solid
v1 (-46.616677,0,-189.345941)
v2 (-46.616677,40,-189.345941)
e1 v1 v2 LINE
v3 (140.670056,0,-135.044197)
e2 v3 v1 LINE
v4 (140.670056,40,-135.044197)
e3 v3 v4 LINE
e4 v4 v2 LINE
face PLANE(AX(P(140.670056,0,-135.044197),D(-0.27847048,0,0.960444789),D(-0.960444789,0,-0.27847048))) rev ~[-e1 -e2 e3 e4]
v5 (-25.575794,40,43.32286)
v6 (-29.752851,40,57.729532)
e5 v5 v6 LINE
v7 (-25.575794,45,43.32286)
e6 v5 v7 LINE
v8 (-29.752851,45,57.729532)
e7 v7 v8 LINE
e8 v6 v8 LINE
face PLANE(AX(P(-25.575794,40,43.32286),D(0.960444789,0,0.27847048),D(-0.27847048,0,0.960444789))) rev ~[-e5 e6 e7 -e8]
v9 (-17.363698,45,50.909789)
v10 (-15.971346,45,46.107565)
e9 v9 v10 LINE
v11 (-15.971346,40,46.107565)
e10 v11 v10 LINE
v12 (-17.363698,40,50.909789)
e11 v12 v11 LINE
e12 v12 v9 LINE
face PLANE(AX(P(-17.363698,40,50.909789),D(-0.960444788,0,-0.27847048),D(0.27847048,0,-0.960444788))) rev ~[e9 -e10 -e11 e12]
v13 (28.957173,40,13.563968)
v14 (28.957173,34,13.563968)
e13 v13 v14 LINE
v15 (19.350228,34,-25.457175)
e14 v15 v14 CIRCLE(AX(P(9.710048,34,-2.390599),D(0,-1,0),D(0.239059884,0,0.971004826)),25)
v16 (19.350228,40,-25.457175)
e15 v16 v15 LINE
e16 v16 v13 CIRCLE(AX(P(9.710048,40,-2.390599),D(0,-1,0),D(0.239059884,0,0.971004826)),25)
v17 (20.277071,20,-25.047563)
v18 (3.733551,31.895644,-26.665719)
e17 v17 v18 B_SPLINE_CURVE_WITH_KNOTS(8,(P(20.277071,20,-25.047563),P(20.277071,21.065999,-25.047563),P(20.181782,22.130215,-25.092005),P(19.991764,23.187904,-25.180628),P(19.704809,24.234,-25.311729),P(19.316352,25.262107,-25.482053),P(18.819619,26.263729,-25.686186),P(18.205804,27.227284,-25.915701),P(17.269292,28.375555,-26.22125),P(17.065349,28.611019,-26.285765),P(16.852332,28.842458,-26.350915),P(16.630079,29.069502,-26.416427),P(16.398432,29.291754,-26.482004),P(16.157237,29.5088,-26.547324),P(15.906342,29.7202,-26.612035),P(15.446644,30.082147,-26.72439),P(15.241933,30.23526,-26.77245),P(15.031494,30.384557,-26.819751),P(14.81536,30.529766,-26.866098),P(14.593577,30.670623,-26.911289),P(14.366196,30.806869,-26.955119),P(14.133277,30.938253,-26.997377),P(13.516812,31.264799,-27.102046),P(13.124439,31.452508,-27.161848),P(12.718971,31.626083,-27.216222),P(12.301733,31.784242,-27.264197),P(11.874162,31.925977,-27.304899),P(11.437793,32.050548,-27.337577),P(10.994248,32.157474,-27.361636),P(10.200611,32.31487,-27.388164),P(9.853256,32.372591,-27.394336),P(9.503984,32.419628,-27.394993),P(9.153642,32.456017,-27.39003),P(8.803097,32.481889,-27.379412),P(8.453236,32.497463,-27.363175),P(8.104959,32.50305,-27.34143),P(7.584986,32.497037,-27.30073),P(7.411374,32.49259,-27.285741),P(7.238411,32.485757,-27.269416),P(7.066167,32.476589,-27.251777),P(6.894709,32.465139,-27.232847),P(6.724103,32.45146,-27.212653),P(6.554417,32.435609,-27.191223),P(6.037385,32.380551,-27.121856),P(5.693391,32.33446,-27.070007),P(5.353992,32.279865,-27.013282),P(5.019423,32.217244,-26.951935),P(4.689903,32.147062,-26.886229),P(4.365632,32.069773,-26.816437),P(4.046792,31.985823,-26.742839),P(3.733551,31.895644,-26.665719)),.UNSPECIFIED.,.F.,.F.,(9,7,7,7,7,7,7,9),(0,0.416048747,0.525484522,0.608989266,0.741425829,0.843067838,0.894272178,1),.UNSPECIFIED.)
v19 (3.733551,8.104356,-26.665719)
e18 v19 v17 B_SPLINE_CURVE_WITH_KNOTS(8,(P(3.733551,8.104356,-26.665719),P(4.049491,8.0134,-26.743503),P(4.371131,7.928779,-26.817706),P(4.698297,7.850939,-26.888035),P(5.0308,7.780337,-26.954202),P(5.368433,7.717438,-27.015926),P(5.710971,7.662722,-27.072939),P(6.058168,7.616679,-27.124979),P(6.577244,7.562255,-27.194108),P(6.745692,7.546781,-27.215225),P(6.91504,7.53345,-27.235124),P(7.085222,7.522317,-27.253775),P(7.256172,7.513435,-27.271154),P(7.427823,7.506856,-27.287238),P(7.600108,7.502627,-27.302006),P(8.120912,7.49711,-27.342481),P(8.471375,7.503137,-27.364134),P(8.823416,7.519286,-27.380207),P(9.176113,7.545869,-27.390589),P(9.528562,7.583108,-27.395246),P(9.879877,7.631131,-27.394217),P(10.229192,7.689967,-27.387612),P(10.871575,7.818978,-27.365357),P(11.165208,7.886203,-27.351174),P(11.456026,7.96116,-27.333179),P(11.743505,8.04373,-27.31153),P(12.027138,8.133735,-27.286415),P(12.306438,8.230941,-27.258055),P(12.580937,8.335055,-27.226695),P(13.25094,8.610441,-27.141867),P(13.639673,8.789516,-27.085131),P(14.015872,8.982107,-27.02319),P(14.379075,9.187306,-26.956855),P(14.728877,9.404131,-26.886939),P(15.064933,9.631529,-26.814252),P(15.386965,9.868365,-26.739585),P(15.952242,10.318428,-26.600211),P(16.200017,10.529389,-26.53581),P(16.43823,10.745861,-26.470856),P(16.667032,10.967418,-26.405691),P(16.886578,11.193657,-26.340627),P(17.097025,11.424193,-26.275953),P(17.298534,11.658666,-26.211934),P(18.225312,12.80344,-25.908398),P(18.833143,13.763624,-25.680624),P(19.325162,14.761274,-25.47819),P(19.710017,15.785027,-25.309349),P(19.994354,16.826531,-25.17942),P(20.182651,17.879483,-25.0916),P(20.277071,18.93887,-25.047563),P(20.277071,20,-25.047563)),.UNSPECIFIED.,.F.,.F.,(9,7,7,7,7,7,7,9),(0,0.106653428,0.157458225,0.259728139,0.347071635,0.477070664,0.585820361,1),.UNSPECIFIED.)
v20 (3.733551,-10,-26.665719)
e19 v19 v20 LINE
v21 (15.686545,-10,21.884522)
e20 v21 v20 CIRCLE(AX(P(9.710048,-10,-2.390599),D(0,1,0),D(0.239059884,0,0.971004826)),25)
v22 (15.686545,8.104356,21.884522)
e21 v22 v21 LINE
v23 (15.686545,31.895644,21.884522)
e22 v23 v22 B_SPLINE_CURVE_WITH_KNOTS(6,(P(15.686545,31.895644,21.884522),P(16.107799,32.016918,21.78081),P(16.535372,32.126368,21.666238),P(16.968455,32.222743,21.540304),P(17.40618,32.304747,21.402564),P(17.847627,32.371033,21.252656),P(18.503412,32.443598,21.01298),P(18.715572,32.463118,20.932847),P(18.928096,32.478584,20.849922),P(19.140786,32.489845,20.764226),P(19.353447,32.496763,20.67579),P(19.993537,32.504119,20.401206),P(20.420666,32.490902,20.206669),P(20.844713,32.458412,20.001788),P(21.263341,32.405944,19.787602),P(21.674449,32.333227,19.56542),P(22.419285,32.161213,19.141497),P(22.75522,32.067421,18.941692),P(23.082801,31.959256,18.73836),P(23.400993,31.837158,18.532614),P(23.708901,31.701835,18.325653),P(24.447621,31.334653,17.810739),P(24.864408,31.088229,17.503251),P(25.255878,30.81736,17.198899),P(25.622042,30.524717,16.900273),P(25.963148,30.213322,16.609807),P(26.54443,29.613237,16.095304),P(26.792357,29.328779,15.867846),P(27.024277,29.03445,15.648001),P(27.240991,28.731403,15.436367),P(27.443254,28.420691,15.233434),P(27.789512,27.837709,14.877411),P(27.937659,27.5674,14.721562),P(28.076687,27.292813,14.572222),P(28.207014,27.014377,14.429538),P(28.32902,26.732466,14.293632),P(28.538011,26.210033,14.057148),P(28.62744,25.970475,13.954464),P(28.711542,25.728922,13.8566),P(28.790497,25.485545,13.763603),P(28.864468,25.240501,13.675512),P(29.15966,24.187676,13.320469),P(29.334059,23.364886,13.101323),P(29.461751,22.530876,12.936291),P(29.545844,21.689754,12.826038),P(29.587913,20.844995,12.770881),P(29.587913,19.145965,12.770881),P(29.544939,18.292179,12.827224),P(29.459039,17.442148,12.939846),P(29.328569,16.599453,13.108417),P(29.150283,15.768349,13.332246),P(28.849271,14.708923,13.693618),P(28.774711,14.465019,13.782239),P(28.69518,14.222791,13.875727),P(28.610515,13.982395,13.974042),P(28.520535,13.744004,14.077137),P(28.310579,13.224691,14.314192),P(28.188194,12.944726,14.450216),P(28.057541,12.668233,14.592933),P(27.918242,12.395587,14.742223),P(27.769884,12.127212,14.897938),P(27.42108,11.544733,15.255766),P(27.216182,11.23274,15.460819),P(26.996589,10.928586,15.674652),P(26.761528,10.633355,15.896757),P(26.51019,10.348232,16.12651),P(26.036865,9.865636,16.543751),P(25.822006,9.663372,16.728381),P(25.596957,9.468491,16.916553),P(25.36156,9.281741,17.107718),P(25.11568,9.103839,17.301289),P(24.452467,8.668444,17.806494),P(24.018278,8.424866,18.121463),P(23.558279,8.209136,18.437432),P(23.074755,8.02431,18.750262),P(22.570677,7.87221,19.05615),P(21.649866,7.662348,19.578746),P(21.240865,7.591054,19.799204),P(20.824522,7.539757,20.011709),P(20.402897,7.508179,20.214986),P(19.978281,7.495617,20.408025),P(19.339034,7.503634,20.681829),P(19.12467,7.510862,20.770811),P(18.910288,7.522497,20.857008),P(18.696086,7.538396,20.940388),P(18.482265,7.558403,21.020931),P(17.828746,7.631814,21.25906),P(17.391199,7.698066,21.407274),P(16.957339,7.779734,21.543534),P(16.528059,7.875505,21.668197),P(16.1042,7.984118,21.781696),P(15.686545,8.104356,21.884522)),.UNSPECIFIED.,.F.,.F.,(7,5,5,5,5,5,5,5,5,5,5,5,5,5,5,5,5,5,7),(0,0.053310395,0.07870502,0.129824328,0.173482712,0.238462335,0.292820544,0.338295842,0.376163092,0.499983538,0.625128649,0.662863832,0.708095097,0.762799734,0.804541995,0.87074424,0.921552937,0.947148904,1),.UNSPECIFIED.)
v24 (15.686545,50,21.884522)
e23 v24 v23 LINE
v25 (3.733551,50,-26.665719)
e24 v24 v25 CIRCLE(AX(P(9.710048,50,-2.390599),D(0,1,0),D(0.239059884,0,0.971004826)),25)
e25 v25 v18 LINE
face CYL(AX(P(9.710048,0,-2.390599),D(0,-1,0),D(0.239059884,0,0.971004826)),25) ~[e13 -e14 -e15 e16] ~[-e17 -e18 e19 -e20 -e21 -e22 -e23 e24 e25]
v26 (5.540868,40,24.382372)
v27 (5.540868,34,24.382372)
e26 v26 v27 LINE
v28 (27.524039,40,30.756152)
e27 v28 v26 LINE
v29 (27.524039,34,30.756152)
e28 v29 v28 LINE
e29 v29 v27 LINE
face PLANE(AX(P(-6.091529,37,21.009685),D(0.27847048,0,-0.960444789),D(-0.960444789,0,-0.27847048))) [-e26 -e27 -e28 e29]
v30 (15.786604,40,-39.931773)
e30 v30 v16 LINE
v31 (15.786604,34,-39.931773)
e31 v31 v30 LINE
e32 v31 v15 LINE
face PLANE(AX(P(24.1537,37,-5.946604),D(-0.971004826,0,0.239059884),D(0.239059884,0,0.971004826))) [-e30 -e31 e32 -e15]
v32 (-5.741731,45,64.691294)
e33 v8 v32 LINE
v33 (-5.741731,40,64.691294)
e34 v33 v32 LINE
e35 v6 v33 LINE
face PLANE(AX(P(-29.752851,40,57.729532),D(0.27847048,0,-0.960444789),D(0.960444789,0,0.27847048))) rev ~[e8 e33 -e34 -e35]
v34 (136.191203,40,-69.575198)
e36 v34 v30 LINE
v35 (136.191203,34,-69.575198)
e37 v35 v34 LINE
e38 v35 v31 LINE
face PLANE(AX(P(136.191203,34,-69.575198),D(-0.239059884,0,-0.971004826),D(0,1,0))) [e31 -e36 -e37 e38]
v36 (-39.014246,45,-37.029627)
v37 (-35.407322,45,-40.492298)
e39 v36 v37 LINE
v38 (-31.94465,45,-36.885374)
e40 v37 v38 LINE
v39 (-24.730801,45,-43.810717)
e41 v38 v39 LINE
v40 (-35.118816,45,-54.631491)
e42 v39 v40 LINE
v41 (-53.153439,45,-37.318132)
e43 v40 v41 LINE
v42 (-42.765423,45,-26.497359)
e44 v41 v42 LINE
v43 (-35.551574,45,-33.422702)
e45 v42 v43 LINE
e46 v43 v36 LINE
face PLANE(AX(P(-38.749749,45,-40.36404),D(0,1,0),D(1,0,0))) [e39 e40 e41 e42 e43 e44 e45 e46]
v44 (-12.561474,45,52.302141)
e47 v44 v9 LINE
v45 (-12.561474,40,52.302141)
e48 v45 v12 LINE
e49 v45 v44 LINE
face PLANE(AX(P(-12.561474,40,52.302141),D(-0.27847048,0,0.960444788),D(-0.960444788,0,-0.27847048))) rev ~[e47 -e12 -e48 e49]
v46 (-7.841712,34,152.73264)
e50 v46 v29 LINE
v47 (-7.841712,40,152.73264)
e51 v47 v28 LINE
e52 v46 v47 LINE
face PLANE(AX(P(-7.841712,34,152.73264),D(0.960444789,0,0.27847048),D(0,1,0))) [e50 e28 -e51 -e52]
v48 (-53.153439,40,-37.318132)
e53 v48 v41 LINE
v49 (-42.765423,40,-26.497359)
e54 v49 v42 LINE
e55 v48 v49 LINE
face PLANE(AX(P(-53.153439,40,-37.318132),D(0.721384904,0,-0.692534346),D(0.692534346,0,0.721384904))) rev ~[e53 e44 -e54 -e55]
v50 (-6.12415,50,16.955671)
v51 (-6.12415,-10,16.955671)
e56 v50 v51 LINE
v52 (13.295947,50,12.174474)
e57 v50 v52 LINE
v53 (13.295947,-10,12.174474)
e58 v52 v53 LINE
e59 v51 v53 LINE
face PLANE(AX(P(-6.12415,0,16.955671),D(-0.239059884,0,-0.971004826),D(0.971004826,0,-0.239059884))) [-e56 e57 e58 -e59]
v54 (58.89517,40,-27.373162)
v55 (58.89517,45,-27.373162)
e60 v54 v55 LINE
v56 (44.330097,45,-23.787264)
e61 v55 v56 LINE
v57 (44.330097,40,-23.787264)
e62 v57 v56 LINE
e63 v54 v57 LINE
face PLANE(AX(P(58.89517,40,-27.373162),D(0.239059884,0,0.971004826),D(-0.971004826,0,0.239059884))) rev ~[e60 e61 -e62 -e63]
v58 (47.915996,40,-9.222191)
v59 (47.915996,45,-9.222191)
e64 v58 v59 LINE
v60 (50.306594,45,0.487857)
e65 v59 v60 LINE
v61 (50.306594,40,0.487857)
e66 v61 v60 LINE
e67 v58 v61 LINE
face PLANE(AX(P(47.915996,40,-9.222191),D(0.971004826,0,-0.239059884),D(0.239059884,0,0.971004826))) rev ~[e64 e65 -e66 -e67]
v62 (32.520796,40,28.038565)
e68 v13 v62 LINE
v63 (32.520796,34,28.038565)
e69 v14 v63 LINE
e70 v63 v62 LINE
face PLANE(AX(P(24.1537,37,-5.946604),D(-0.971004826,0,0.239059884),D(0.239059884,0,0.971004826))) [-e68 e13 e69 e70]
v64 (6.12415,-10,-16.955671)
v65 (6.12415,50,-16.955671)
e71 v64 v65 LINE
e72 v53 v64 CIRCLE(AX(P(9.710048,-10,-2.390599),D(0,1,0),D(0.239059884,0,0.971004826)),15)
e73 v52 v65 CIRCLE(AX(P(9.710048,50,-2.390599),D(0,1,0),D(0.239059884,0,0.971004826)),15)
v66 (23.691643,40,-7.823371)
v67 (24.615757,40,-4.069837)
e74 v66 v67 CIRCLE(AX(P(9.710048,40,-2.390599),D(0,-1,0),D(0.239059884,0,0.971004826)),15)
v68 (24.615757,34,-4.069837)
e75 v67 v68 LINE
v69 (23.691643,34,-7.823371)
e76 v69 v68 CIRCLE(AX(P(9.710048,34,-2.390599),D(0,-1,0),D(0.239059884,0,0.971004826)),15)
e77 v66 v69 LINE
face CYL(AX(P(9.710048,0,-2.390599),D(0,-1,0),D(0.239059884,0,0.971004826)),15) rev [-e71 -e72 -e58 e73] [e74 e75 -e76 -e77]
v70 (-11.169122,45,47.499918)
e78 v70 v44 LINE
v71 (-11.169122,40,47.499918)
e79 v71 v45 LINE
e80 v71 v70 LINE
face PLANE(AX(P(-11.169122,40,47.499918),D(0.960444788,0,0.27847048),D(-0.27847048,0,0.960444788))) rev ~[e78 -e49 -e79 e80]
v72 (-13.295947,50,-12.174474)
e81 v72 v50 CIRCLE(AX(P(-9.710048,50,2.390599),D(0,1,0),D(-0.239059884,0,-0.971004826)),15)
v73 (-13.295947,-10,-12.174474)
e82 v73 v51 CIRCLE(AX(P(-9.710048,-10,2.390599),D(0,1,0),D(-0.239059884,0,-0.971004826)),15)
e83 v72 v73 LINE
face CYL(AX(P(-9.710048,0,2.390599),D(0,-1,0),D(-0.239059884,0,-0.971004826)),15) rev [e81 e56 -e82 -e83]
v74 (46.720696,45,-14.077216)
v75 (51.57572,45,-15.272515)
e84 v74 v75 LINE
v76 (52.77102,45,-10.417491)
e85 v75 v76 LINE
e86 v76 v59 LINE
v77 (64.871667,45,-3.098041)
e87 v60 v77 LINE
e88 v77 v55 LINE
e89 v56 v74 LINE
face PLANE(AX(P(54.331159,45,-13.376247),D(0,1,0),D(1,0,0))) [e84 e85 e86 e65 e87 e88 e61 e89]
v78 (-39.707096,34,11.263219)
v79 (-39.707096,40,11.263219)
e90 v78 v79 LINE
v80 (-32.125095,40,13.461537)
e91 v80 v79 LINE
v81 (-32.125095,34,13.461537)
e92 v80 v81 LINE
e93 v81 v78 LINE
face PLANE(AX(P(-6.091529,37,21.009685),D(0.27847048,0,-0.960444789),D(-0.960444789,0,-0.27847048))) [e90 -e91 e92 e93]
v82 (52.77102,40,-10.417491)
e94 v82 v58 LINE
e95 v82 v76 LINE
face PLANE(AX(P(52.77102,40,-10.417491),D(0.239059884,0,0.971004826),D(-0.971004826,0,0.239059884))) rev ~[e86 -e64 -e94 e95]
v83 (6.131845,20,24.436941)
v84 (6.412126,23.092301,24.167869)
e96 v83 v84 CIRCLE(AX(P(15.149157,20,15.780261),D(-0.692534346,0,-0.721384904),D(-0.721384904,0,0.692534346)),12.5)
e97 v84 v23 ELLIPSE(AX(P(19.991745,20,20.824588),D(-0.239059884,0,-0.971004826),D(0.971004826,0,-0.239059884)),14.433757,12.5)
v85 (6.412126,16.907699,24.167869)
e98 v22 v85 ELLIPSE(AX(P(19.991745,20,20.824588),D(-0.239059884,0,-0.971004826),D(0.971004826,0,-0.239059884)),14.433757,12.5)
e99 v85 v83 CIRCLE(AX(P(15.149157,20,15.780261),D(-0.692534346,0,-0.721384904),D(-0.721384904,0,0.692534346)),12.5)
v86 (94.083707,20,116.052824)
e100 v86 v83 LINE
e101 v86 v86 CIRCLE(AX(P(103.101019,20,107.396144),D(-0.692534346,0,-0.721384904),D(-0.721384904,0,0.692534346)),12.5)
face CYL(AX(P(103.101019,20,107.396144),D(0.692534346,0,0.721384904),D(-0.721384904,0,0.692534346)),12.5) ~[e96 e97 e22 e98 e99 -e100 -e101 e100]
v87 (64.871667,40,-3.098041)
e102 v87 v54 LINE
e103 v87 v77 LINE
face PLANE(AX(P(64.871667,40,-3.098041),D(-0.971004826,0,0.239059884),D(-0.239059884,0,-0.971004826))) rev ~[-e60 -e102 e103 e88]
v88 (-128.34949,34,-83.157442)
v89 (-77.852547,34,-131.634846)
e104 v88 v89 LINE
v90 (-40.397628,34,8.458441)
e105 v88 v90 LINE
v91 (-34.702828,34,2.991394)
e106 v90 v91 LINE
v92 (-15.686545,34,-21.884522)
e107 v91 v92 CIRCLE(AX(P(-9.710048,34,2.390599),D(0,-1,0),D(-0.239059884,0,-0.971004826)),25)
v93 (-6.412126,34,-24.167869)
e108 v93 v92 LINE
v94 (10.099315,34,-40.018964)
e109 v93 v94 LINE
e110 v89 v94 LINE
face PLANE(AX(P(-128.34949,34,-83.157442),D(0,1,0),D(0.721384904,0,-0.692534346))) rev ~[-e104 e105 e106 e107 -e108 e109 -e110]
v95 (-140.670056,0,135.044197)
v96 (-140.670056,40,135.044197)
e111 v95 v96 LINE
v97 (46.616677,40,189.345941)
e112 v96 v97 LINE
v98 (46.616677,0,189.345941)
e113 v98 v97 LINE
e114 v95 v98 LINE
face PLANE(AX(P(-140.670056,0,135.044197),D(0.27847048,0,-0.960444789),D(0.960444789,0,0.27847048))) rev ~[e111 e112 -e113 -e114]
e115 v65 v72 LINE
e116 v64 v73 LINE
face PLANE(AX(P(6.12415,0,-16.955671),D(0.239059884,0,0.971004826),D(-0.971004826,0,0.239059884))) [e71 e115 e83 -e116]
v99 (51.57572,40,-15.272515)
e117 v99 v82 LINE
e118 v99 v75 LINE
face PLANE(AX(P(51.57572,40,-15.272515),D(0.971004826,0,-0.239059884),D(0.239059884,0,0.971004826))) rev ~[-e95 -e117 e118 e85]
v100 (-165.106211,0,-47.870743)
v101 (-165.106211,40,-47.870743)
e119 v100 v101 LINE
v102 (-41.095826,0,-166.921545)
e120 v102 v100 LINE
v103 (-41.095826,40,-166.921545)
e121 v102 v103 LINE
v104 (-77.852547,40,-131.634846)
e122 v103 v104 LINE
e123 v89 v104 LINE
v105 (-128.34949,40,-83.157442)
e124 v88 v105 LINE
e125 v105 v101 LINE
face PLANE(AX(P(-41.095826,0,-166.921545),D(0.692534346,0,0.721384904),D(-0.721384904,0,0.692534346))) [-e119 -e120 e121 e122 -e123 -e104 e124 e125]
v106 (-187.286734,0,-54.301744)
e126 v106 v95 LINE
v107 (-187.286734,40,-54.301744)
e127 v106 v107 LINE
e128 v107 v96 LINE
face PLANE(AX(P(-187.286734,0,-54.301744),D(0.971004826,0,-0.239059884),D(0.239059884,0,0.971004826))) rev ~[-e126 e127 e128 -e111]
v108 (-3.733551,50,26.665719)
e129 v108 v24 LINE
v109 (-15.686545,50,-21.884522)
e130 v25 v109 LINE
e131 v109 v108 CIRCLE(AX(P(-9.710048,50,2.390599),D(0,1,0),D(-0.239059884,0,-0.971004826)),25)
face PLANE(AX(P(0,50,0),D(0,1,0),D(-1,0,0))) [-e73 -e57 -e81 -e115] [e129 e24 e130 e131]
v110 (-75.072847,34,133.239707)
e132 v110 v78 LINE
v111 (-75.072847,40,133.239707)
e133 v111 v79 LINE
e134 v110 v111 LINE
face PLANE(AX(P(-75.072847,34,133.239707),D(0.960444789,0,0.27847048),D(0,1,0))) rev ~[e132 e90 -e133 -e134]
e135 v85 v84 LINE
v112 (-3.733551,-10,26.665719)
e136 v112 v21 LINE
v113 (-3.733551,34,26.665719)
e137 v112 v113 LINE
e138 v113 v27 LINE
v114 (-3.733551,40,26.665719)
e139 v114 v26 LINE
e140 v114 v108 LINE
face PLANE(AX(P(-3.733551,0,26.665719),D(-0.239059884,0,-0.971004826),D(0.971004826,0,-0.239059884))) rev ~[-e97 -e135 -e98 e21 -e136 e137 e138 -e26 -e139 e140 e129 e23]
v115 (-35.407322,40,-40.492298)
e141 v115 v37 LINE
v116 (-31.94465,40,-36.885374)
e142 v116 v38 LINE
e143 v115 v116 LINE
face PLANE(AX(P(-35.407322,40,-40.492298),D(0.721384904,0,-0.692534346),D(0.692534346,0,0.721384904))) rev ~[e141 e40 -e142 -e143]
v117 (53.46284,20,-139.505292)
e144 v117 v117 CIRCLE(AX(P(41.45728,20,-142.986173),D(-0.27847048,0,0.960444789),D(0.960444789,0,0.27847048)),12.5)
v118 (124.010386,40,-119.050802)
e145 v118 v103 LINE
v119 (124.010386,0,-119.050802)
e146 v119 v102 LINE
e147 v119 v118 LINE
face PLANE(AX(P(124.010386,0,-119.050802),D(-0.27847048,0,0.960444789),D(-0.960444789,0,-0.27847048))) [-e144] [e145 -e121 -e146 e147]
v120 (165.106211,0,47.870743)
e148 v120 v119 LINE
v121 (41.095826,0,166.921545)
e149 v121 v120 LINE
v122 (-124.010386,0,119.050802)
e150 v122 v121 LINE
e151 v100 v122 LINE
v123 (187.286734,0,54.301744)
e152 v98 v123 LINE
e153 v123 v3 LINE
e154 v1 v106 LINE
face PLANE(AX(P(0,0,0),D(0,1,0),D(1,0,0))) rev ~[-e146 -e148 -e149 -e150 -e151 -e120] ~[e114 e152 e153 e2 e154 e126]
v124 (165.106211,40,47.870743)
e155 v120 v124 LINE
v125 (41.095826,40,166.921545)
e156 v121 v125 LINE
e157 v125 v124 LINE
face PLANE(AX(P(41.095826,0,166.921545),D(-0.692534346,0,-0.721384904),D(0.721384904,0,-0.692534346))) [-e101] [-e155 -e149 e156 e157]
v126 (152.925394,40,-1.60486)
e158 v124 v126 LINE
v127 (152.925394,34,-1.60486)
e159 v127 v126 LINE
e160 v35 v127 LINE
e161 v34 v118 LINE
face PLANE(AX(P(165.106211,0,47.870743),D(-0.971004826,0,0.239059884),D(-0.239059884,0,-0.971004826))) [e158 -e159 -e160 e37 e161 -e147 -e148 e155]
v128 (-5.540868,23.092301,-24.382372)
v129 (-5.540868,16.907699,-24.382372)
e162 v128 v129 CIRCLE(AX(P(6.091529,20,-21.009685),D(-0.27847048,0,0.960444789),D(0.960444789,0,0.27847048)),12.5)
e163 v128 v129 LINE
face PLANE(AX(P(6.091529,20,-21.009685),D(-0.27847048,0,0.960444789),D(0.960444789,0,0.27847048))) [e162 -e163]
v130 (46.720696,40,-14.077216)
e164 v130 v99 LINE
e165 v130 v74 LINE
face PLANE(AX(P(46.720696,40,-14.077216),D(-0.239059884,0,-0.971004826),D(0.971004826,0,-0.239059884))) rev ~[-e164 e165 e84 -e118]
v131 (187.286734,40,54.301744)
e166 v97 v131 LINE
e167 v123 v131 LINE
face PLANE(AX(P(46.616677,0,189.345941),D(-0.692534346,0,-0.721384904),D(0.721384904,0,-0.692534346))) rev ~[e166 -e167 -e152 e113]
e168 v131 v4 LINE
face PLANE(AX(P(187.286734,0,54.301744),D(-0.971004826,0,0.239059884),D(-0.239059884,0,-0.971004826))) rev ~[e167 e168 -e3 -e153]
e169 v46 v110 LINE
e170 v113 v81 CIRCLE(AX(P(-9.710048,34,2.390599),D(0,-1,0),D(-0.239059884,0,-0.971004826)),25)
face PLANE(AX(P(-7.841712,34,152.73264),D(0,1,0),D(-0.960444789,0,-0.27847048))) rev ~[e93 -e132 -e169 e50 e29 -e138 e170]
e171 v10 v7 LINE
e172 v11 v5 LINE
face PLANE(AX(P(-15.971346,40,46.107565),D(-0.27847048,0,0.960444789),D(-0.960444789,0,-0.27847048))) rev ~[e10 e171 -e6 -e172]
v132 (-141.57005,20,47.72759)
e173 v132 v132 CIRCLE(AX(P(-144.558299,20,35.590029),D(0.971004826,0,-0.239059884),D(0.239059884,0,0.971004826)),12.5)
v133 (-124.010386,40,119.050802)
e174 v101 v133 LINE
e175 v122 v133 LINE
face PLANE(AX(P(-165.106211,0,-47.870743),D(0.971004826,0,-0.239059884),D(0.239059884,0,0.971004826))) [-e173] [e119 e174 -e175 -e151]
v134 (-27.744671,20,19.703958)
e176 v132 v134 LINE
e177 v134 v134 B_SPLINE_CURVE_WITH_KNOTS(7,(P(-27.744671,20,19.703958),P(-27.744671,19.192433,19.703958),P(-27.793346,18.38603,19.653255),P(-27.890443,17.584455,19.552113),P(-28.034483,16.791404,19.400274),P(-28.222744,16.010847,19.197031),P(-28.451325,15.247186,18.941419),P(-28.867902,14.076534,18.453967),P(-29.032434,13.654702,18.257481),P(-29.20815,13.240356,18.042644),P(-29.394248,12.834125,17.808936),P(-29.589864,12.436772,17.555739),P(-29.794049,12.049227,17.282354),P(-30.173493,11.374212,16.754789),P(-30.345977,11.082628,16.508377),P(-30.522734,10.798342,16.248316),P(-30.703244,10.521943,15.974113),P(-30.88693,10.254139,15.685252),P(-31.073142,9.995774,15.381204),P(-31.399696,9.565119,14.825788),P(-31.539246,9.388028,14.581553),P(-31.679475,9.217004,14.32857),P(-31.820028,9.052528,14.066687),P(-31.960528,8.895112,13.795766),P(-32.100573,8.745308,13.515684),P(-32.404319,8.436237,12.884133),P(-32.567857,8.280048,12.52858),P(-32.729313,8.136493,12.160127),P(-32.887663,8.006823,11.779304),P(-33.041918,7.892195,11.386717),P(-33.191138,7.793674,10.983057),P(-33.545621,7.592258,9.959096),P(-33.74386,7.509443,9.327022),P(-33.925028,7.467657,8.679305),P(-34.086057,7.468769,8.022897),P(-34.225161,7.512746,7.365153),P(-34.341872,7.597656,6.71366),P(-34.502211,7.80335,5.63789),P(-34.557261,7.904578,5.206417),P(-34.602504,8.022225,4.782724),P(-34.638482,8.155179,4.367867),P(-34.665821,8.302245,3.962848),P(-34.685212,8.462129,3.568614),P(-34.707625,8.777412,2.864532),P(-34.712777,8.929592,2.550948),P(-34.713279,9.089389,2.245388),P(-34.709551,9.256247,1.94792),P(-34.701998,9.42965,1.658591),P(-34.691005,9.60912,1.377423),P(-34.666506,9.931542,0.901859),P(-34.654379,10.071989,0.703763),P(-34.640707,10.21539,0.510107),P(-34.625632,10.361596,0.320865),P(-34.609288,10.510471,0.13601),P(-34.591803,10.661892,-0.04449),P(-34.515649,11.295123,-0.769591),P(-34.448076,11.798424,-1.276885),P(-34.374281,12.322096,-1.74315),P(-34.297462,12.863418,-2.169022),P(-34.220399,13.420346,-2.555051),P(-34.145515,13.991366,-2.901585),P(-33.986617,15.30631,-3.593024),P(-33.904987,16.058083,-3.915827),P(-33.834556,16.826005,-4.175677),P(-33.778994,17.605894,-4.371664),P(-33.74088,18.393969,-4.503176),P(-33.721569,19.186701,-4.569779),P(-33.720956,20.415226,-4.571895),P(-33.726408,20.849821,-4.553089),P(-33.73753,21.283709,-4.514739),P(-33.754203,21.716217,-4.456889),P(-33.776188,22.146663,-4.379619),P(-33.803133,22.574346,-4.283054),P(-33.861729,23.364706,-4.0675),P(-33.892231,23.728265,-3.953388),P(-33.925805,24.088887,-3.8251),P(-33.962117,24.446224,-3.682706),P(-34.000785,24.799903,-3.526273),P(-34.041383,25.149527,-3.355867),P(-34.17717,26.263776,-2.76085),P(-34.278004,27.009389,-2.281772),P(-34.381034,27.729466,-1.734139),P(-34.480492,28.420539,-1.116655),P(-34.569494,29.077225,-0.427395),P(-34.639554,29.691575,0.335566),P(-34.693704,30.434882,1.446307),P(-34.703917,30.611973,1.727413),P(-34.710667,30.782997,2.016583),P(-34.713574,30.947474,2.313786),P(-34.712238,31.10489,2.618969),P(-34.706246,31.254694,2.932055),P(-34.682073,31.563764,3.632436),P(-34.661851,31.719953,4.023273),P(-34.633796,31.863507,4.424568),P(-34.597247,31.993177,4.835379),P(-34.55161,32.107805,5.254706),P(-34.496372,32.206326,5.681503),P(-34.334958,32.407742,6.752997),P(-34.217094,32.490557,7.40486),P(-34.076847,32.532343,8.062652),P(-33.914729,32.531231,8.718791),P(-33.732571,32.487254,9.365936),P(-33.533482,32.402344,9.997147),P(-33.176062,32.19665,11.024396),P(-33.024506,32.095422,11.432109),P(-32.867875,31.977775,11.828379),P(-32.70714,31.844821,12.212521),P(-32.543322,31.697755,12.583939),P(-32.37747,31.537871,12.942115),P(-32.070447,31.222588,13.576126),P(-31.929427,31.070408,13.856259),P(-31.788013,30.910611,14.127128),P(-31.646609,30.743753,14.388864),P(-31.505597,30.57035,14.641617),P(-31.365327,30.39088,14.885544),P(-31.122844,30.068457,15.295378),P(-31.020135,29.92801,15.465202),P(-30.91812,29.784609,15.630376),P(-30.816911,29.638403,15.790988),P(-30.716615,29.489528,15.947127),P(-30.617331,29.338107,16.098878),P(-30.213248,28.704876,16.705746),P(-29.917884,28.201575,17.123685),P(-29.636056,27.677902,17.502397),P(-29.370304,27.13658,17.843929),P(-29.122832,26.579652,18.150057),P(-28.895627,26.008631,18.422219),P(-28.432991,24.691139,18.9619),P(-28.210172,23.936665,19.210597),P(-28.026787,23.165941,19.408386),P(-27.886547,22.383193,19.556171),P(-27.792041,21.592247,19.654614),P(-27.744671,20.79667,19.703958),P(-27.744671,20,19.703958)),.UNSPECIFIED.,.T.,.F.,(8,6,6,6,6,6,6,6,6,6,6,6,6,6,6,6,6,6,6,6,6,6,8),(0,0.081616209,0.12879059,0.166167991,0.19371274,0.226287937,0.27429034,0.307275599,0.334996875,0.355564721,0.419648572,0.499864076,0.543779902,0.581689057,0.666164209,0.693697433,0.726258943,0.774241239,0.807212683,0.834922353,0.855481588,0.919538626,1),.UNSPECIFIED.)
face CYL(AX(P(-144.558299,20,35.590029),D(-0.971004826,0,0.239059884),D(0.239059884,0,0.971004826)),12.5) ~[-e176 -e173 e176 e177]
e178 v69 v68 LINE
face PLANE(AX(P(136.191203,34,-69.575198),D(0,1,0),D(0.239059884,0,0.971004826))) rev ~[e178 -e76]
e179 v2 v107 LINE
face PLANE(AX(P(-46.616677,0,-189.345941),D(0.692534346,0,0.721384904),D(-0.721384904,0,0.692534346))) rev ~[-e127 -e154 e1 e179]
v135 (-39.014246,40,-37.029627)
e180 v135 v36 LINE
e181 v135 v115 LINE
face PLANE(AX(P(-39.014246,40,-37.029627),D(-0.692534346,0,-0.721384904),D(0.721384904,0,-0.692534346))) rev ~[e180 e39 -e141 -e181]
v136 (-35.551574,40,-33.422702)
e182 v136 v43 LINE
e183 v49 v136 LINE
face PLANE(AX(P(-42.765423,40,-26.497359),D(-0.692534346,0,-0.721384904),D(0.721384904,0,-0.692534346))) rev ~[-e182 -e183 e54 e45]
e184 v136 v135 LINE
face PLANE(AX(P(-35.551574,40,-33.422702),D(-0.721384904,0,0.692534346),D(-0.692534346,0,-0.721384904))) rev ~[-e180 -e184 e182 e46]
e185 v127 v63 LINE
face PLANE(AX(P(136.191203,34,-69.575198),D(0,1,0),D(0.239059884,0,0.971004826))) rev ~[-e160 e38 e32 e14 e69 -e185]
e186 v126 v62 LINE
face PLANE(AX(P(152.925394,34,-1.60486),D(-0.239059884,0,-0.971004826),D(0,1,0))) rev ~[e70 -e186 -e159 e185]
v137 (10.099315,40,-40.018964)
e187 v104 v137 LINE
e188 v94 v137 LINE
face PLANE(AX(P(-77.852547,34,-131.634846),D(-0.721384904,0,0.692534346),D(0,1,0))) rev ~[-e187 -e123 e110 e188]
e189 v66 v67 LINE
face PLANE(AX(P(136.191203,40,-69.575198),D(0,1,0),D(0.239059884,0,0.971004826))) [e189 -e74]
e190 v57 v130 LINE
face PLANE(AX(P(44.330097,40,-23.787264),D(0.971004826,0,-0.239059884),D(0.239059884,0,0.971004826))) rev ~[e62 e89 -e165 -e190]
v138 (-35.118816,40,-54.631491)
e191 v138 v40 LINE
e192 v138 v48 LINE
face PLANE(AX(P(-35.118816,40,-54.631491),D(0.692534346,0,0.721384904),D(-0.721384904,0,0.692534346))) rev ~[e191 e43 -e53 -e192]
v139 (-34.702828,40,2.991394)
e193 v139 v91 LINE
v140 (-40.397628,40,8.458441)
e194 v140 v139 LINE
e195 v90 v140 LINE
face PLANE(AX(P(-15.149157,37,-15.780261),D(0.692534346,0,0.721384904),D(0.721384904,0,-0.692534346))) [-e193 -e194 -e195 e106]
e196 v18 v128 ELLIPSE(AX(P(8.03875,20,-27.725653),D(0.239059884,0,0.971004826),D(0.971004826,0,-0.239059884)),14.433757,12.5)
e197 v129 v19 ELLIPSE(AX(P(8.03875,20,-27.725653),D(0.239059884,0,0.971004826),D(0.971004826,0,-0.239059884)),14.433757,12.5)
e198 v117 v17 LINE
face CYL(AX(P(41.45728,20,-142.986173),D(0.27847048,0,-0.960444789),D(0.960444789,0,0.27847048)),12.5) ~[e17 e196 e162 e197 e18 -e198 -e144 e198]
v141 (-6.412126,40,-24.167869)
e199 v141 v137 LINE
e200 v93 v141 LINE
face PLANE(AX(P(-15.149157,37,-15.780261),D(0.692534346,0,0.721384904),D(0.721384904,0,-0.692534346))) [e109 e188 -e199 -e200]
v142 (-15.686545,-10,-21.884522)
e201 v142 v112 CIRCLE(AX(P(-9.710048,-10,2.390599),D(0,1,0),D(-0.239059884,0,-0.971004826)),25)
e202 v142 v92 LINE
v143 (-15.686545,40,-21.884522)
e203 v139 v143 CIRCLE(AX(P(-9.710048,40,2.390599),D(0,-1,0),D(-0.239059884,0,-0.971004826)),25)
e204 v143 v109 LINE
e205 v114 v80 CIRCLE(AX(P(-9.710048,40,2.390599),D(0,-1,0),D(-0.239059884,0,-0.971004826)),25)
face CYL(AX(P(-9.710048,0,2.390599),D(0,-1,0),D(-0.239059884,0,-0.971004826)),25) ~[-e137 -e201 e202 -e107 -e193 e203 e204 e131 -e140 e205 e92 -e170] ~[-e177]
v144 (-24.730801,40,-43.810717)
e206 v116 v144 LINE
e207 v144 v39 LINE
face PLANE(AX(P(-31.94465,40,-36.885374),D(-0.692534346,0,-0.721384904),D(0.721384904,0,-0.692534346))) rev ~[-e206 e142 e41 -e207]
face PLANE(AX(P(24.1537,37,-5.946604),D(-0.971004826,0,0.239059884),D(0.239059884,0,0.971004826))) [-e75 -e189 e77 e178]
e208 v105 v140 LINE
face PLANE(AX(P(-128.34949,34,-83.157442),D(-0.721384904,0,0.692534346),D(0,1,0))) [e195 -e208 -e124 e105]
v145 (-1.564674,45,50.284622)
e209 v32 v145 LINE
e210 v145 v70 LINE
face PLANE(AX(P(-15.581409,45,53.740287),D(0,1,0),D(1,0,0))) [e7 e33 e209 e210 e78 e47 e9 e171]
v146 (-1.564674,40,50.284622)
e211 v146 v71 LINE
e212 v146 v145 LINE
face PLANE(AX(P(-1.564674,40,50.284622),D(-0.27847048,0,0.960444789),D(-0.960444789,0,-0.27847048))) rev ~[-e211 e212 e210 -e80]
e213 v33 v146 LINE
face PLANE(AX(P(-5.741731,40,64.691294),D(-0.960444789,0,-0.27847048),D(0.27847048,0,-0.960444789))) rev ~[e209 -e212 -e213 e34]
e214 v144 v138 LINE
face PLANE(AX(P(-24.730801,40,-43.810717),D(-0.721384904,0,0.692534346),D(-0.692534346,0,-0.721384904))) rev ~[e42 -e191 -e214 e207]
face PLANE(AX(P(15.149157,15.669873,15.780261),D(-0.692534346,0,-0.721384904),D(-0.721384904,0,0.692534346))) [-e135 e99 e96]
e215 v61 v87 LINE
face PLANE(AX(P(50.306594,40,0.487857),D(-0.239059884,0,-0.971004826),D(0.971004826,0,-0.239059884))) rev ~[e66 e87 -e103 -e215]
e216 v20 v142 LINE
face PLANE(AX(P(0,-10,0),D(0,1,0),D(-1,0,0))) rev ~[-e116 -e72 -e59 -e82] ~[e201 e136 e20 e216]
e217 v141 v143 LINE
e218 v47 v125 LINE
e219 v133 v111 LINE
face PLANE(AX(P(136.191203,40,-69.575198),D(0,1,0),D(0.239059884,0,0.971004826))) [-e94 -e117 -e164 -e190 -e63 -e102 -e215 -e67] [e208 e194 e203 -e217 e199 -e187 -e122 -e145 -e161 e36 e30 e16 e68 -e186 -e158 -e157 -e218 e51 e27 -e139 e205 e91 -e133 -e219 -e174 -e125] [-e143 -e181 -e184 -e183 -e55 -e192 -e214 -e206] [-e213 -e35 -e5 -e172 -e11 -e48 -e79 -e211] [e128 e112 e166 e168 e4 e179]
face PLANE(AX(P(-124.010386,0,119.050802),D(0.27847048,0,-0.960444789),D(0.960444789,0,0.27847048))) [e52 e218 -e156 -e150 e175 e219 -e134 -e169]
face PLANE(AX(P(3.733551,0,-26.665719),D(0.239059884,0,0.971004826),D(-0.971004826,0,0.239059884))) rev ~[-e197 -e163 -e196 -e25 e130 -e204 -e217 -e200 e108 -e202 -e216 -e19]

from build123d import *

# Parameters (mm, degrees)
BOSS_EXTRUDE5_DEPTH      = 40
BOSS_EXTRUDE9_DEPTH      = 10
BOSS_EXTRUDE9_DEPTH_BACK = 50
BOSS_EXTRUDE10_DEPTH     = 120
SKETCH5_R                = 12.5
BOSS_EXTRUDE11_DEPTH     = 127
BOSS_EXTRUDE12_DEPTH     = 127
SKETCH8_W                = 70
SKETCH8_H                = 6
BOSS_EXTRUDE14_DEPTH     = 127
SKETCH9_W                = 70
SKETCH9_H                = 6
BOSS_EXTRUDE15_DEPTH     = 127
SKETCH10_W               = 70
SKETCH10_H               = 6
BOSS_EXTRUDE16_DEPTH     = 124
EXTRUDE_THIN1_DEPTH      = 5


with BuildPart() as part:
    # Sketch1 → Boss-Extrude5 (new body)
    with BuildSketch(Plane(origin=(0, 0, 0), x_dir=(1, 0, 0), z_dir=(0, 1, 0))):
        Polygon((-140.670056302, -135.044197431), (46.616677458, -189.345941025), (187.28673376, -54.301743594), (140.670056302, 135.044197431), (-46.616677458, 189.345941025), (-187.28673376, 54.301743594), align=None)
        Polygon((165.106211473, -47.870743331), (124.010385559, 119.050801792), (-41.095825913, 166.921545124), (-165.106211473, 47.870743331), (-124.010385559, -119.050801792), (41.095825913, -166.921545124), align=None, mode=Mode.SUBTRACT)
    extrude(amount=BOSS_EXTRUDE5_DEPTH)



with BuildPart() as body_2:
    # Sketch3 → Boss-Extrude9 (new body, two sides)
    with BuildSketch(Plane.XZ) as boss_extrude9_sk:
        with BuildLine():
            Line((3.733551148, -26.665719488), (-15.686545368, -21.8845218))
            ThreePointArc((-15.686545368, -21.8845218), (-33.985168902, 8.367095954), (-3.733551148, 26.665719488))
            Line((-3.733551148, 26.665719488), (15.686545368, 21.8845218))
            ThreePointArc((15.686545368, 21.8845218), (33.985168902, -8.367095954), (3.733551148, -26.665719488))
        make_face()
        with BuildLine():
            Line((6.124149992, -16.955671231), (-13.295946524, -12.174473543))
            ThreePointArc((-13.295946524, -12.174473543), (-24.275120644, 5.97649711), (-6.124149992, 16.955671231))
            Line((-6.124149992, 16.955671231), (13.295946524, 12.174473543))
            ThreePointArc((13.295946524, 12.174473543), (24.275120644, -5.97649711), (6.124149992, -16.955671231))
        make_face(mode=Mode.SUBTRACT)
    extrude(amount=BOSS_EXTRUDE9_DEPTH)
    extrude(boss_extrude9_sk.sketch, amount=-BOSS_EXTRUDE9_DEPTH_BACK)


with BuildPart() as part_1:
    add(part.part)

    add(body_2.part)  # Boss-Extrude10 merges body 2
    # Sketch4 → Boss-Extrude10 (add)
    with BuildSketch(Plane(origin=(-144.558298516, 0, 35.590029231), x_dir=(-0.239059884, 0, -0.971004826), z_dir=(0.971004826, 0, -0.239059884))):
        with BuildLine():
            ThreePointArc((12.5, 20), (0, 32.5), (-12.5, 20))
            Line((-12.5, 20), (12.5, 20))
        make_face()
        with BuildLine():
            Line((12.5, 20), (-12.5, 20))
            ThreePointArc((-12.5, 20), (0, 7.5), (12.5, 20))
        make_face()
    extrude(amount=BOSS_EXTRUDE10_DEPTH)

    # Sketch5 → Boss-Extrude11 (add)
    with BuildSketch(Plane(origin=(41.457279823, 0, -142.986173458), x_dir=(0.960444789, 0, 0.27847048), z_dir=(-0.27847048, 0, 0.960444789))):
        with Locations((0, 20)):
            Circle(SKETCH5_R)
    extrude(amount=BOSS_EXTRUDE11_DEPTH)

    # Sketch6 → Boss-Extrude12 (add)
    with BuildSketch(Plane(origin=(103.101018693, 0, 107.396144227), x_dir=(-0.721384904, 0, 0.692534346), z_dir=(-0.692534346, 0, -0.721384904))):
        with BuildLine():
            ThreePointArc((-12.5, 20), (0, 7.5), (12.5, 20))
            Line((12.5, 20), (-12.5, 20))
        make_face()
        with BuildLine():
            Line((-12.5, 20), (12.5, 20))
            ThreePointArc((12.5, 20), (0, 32.5), (-12.5, 20))
        make_face()
    extrude(amount=BOSS_EXTRUDE12_DEPTH)

    # Sketch8 → Boss-Extrude14 (add)
    with BuildSketch(Plane(origin=(-103.101018693, 0, -107.396144227), x_dir=(0.721384904, 0, -0.692534346), z_dir=(0.692534346, 0, 0.721384904))):
        with Locations((0, 37)):
            Rectangle(SKETCH8_W, SKETCH8_H)
    extrude(amount=BOSS_EXTRUDE14_DEPTH)

    # Sketch9 → Boss-Extrude15 (add)
    with BuildSketch(Plane(origin=(-41.457279823, 0, 142.986173458), x_dir=(-0.960444789, 0, -0.27847048), z_dir=(0.27847048, 0, -0.960444789))):
        with Locations((0, 37)):
            Rectangle(SKETCH9_W, SKETCH9_H)
    extrude(amount=BOSS_EXTRUDE15_DEPTH)

    # Sketch10 → Boss-Extrude16 (add)
    with BuildSketch(Plane(origin=(144.558298516, 0, -35.590029231), x_dir=(0.239059884, 0, 0.971004826), z_dir=(-0.971004826, 0, 0.239059884))):
        with Locations((0, 37)):
            Rectangle(SKETCH10_W, SKETCH10_H)
    extrude(amount=BOSS_EXTRUDE16_DEPTH)

    # Sketch14 → Extrude-Thin1 (add)
    with BuildSketch(Plane(origin=(0, 40, 0), x_dir=(1, 0, 0), z_dir=(0, 1, 0))):
        Polygon((50.306594431, -0.487856845), (64.871666817, 3.098041421), (58.895169707, 27.373162065), (44.330097321, 23.787263799), (46.720696165, 14.077215541), (51.575720293, 15.272514963), (52.771019715, 10.417490835), (47.915995587, 9.222191413), align=None)
        Polygon((-25.575793637, -43.322860332), (-29.752850836, -57.72953216), (-5.741731123, -64.691294159), (-1.564673924, -50.284622331), (-11.169121809, -47.499917532), (-12.561474209, -52.302141474), (-17.363698151, -50.909789074), (-15.971345751, -46.107565132), align=None)
        Polygon((-24.730800794, 43.810717177), (-35.118815981, 54.631490739), (-53.153438584, 37.318132094), (-42.765423397, 26.497358532), (-35.551574356, 33.42270199), (-39.014246085, 37.029626511), (-35.407321564, 40.49229824), (-31.944649835, 36.885373719), align=None)
    extrude(amount=EXTRUDE_THIN1_DEPTH)


solid = part_1.part
